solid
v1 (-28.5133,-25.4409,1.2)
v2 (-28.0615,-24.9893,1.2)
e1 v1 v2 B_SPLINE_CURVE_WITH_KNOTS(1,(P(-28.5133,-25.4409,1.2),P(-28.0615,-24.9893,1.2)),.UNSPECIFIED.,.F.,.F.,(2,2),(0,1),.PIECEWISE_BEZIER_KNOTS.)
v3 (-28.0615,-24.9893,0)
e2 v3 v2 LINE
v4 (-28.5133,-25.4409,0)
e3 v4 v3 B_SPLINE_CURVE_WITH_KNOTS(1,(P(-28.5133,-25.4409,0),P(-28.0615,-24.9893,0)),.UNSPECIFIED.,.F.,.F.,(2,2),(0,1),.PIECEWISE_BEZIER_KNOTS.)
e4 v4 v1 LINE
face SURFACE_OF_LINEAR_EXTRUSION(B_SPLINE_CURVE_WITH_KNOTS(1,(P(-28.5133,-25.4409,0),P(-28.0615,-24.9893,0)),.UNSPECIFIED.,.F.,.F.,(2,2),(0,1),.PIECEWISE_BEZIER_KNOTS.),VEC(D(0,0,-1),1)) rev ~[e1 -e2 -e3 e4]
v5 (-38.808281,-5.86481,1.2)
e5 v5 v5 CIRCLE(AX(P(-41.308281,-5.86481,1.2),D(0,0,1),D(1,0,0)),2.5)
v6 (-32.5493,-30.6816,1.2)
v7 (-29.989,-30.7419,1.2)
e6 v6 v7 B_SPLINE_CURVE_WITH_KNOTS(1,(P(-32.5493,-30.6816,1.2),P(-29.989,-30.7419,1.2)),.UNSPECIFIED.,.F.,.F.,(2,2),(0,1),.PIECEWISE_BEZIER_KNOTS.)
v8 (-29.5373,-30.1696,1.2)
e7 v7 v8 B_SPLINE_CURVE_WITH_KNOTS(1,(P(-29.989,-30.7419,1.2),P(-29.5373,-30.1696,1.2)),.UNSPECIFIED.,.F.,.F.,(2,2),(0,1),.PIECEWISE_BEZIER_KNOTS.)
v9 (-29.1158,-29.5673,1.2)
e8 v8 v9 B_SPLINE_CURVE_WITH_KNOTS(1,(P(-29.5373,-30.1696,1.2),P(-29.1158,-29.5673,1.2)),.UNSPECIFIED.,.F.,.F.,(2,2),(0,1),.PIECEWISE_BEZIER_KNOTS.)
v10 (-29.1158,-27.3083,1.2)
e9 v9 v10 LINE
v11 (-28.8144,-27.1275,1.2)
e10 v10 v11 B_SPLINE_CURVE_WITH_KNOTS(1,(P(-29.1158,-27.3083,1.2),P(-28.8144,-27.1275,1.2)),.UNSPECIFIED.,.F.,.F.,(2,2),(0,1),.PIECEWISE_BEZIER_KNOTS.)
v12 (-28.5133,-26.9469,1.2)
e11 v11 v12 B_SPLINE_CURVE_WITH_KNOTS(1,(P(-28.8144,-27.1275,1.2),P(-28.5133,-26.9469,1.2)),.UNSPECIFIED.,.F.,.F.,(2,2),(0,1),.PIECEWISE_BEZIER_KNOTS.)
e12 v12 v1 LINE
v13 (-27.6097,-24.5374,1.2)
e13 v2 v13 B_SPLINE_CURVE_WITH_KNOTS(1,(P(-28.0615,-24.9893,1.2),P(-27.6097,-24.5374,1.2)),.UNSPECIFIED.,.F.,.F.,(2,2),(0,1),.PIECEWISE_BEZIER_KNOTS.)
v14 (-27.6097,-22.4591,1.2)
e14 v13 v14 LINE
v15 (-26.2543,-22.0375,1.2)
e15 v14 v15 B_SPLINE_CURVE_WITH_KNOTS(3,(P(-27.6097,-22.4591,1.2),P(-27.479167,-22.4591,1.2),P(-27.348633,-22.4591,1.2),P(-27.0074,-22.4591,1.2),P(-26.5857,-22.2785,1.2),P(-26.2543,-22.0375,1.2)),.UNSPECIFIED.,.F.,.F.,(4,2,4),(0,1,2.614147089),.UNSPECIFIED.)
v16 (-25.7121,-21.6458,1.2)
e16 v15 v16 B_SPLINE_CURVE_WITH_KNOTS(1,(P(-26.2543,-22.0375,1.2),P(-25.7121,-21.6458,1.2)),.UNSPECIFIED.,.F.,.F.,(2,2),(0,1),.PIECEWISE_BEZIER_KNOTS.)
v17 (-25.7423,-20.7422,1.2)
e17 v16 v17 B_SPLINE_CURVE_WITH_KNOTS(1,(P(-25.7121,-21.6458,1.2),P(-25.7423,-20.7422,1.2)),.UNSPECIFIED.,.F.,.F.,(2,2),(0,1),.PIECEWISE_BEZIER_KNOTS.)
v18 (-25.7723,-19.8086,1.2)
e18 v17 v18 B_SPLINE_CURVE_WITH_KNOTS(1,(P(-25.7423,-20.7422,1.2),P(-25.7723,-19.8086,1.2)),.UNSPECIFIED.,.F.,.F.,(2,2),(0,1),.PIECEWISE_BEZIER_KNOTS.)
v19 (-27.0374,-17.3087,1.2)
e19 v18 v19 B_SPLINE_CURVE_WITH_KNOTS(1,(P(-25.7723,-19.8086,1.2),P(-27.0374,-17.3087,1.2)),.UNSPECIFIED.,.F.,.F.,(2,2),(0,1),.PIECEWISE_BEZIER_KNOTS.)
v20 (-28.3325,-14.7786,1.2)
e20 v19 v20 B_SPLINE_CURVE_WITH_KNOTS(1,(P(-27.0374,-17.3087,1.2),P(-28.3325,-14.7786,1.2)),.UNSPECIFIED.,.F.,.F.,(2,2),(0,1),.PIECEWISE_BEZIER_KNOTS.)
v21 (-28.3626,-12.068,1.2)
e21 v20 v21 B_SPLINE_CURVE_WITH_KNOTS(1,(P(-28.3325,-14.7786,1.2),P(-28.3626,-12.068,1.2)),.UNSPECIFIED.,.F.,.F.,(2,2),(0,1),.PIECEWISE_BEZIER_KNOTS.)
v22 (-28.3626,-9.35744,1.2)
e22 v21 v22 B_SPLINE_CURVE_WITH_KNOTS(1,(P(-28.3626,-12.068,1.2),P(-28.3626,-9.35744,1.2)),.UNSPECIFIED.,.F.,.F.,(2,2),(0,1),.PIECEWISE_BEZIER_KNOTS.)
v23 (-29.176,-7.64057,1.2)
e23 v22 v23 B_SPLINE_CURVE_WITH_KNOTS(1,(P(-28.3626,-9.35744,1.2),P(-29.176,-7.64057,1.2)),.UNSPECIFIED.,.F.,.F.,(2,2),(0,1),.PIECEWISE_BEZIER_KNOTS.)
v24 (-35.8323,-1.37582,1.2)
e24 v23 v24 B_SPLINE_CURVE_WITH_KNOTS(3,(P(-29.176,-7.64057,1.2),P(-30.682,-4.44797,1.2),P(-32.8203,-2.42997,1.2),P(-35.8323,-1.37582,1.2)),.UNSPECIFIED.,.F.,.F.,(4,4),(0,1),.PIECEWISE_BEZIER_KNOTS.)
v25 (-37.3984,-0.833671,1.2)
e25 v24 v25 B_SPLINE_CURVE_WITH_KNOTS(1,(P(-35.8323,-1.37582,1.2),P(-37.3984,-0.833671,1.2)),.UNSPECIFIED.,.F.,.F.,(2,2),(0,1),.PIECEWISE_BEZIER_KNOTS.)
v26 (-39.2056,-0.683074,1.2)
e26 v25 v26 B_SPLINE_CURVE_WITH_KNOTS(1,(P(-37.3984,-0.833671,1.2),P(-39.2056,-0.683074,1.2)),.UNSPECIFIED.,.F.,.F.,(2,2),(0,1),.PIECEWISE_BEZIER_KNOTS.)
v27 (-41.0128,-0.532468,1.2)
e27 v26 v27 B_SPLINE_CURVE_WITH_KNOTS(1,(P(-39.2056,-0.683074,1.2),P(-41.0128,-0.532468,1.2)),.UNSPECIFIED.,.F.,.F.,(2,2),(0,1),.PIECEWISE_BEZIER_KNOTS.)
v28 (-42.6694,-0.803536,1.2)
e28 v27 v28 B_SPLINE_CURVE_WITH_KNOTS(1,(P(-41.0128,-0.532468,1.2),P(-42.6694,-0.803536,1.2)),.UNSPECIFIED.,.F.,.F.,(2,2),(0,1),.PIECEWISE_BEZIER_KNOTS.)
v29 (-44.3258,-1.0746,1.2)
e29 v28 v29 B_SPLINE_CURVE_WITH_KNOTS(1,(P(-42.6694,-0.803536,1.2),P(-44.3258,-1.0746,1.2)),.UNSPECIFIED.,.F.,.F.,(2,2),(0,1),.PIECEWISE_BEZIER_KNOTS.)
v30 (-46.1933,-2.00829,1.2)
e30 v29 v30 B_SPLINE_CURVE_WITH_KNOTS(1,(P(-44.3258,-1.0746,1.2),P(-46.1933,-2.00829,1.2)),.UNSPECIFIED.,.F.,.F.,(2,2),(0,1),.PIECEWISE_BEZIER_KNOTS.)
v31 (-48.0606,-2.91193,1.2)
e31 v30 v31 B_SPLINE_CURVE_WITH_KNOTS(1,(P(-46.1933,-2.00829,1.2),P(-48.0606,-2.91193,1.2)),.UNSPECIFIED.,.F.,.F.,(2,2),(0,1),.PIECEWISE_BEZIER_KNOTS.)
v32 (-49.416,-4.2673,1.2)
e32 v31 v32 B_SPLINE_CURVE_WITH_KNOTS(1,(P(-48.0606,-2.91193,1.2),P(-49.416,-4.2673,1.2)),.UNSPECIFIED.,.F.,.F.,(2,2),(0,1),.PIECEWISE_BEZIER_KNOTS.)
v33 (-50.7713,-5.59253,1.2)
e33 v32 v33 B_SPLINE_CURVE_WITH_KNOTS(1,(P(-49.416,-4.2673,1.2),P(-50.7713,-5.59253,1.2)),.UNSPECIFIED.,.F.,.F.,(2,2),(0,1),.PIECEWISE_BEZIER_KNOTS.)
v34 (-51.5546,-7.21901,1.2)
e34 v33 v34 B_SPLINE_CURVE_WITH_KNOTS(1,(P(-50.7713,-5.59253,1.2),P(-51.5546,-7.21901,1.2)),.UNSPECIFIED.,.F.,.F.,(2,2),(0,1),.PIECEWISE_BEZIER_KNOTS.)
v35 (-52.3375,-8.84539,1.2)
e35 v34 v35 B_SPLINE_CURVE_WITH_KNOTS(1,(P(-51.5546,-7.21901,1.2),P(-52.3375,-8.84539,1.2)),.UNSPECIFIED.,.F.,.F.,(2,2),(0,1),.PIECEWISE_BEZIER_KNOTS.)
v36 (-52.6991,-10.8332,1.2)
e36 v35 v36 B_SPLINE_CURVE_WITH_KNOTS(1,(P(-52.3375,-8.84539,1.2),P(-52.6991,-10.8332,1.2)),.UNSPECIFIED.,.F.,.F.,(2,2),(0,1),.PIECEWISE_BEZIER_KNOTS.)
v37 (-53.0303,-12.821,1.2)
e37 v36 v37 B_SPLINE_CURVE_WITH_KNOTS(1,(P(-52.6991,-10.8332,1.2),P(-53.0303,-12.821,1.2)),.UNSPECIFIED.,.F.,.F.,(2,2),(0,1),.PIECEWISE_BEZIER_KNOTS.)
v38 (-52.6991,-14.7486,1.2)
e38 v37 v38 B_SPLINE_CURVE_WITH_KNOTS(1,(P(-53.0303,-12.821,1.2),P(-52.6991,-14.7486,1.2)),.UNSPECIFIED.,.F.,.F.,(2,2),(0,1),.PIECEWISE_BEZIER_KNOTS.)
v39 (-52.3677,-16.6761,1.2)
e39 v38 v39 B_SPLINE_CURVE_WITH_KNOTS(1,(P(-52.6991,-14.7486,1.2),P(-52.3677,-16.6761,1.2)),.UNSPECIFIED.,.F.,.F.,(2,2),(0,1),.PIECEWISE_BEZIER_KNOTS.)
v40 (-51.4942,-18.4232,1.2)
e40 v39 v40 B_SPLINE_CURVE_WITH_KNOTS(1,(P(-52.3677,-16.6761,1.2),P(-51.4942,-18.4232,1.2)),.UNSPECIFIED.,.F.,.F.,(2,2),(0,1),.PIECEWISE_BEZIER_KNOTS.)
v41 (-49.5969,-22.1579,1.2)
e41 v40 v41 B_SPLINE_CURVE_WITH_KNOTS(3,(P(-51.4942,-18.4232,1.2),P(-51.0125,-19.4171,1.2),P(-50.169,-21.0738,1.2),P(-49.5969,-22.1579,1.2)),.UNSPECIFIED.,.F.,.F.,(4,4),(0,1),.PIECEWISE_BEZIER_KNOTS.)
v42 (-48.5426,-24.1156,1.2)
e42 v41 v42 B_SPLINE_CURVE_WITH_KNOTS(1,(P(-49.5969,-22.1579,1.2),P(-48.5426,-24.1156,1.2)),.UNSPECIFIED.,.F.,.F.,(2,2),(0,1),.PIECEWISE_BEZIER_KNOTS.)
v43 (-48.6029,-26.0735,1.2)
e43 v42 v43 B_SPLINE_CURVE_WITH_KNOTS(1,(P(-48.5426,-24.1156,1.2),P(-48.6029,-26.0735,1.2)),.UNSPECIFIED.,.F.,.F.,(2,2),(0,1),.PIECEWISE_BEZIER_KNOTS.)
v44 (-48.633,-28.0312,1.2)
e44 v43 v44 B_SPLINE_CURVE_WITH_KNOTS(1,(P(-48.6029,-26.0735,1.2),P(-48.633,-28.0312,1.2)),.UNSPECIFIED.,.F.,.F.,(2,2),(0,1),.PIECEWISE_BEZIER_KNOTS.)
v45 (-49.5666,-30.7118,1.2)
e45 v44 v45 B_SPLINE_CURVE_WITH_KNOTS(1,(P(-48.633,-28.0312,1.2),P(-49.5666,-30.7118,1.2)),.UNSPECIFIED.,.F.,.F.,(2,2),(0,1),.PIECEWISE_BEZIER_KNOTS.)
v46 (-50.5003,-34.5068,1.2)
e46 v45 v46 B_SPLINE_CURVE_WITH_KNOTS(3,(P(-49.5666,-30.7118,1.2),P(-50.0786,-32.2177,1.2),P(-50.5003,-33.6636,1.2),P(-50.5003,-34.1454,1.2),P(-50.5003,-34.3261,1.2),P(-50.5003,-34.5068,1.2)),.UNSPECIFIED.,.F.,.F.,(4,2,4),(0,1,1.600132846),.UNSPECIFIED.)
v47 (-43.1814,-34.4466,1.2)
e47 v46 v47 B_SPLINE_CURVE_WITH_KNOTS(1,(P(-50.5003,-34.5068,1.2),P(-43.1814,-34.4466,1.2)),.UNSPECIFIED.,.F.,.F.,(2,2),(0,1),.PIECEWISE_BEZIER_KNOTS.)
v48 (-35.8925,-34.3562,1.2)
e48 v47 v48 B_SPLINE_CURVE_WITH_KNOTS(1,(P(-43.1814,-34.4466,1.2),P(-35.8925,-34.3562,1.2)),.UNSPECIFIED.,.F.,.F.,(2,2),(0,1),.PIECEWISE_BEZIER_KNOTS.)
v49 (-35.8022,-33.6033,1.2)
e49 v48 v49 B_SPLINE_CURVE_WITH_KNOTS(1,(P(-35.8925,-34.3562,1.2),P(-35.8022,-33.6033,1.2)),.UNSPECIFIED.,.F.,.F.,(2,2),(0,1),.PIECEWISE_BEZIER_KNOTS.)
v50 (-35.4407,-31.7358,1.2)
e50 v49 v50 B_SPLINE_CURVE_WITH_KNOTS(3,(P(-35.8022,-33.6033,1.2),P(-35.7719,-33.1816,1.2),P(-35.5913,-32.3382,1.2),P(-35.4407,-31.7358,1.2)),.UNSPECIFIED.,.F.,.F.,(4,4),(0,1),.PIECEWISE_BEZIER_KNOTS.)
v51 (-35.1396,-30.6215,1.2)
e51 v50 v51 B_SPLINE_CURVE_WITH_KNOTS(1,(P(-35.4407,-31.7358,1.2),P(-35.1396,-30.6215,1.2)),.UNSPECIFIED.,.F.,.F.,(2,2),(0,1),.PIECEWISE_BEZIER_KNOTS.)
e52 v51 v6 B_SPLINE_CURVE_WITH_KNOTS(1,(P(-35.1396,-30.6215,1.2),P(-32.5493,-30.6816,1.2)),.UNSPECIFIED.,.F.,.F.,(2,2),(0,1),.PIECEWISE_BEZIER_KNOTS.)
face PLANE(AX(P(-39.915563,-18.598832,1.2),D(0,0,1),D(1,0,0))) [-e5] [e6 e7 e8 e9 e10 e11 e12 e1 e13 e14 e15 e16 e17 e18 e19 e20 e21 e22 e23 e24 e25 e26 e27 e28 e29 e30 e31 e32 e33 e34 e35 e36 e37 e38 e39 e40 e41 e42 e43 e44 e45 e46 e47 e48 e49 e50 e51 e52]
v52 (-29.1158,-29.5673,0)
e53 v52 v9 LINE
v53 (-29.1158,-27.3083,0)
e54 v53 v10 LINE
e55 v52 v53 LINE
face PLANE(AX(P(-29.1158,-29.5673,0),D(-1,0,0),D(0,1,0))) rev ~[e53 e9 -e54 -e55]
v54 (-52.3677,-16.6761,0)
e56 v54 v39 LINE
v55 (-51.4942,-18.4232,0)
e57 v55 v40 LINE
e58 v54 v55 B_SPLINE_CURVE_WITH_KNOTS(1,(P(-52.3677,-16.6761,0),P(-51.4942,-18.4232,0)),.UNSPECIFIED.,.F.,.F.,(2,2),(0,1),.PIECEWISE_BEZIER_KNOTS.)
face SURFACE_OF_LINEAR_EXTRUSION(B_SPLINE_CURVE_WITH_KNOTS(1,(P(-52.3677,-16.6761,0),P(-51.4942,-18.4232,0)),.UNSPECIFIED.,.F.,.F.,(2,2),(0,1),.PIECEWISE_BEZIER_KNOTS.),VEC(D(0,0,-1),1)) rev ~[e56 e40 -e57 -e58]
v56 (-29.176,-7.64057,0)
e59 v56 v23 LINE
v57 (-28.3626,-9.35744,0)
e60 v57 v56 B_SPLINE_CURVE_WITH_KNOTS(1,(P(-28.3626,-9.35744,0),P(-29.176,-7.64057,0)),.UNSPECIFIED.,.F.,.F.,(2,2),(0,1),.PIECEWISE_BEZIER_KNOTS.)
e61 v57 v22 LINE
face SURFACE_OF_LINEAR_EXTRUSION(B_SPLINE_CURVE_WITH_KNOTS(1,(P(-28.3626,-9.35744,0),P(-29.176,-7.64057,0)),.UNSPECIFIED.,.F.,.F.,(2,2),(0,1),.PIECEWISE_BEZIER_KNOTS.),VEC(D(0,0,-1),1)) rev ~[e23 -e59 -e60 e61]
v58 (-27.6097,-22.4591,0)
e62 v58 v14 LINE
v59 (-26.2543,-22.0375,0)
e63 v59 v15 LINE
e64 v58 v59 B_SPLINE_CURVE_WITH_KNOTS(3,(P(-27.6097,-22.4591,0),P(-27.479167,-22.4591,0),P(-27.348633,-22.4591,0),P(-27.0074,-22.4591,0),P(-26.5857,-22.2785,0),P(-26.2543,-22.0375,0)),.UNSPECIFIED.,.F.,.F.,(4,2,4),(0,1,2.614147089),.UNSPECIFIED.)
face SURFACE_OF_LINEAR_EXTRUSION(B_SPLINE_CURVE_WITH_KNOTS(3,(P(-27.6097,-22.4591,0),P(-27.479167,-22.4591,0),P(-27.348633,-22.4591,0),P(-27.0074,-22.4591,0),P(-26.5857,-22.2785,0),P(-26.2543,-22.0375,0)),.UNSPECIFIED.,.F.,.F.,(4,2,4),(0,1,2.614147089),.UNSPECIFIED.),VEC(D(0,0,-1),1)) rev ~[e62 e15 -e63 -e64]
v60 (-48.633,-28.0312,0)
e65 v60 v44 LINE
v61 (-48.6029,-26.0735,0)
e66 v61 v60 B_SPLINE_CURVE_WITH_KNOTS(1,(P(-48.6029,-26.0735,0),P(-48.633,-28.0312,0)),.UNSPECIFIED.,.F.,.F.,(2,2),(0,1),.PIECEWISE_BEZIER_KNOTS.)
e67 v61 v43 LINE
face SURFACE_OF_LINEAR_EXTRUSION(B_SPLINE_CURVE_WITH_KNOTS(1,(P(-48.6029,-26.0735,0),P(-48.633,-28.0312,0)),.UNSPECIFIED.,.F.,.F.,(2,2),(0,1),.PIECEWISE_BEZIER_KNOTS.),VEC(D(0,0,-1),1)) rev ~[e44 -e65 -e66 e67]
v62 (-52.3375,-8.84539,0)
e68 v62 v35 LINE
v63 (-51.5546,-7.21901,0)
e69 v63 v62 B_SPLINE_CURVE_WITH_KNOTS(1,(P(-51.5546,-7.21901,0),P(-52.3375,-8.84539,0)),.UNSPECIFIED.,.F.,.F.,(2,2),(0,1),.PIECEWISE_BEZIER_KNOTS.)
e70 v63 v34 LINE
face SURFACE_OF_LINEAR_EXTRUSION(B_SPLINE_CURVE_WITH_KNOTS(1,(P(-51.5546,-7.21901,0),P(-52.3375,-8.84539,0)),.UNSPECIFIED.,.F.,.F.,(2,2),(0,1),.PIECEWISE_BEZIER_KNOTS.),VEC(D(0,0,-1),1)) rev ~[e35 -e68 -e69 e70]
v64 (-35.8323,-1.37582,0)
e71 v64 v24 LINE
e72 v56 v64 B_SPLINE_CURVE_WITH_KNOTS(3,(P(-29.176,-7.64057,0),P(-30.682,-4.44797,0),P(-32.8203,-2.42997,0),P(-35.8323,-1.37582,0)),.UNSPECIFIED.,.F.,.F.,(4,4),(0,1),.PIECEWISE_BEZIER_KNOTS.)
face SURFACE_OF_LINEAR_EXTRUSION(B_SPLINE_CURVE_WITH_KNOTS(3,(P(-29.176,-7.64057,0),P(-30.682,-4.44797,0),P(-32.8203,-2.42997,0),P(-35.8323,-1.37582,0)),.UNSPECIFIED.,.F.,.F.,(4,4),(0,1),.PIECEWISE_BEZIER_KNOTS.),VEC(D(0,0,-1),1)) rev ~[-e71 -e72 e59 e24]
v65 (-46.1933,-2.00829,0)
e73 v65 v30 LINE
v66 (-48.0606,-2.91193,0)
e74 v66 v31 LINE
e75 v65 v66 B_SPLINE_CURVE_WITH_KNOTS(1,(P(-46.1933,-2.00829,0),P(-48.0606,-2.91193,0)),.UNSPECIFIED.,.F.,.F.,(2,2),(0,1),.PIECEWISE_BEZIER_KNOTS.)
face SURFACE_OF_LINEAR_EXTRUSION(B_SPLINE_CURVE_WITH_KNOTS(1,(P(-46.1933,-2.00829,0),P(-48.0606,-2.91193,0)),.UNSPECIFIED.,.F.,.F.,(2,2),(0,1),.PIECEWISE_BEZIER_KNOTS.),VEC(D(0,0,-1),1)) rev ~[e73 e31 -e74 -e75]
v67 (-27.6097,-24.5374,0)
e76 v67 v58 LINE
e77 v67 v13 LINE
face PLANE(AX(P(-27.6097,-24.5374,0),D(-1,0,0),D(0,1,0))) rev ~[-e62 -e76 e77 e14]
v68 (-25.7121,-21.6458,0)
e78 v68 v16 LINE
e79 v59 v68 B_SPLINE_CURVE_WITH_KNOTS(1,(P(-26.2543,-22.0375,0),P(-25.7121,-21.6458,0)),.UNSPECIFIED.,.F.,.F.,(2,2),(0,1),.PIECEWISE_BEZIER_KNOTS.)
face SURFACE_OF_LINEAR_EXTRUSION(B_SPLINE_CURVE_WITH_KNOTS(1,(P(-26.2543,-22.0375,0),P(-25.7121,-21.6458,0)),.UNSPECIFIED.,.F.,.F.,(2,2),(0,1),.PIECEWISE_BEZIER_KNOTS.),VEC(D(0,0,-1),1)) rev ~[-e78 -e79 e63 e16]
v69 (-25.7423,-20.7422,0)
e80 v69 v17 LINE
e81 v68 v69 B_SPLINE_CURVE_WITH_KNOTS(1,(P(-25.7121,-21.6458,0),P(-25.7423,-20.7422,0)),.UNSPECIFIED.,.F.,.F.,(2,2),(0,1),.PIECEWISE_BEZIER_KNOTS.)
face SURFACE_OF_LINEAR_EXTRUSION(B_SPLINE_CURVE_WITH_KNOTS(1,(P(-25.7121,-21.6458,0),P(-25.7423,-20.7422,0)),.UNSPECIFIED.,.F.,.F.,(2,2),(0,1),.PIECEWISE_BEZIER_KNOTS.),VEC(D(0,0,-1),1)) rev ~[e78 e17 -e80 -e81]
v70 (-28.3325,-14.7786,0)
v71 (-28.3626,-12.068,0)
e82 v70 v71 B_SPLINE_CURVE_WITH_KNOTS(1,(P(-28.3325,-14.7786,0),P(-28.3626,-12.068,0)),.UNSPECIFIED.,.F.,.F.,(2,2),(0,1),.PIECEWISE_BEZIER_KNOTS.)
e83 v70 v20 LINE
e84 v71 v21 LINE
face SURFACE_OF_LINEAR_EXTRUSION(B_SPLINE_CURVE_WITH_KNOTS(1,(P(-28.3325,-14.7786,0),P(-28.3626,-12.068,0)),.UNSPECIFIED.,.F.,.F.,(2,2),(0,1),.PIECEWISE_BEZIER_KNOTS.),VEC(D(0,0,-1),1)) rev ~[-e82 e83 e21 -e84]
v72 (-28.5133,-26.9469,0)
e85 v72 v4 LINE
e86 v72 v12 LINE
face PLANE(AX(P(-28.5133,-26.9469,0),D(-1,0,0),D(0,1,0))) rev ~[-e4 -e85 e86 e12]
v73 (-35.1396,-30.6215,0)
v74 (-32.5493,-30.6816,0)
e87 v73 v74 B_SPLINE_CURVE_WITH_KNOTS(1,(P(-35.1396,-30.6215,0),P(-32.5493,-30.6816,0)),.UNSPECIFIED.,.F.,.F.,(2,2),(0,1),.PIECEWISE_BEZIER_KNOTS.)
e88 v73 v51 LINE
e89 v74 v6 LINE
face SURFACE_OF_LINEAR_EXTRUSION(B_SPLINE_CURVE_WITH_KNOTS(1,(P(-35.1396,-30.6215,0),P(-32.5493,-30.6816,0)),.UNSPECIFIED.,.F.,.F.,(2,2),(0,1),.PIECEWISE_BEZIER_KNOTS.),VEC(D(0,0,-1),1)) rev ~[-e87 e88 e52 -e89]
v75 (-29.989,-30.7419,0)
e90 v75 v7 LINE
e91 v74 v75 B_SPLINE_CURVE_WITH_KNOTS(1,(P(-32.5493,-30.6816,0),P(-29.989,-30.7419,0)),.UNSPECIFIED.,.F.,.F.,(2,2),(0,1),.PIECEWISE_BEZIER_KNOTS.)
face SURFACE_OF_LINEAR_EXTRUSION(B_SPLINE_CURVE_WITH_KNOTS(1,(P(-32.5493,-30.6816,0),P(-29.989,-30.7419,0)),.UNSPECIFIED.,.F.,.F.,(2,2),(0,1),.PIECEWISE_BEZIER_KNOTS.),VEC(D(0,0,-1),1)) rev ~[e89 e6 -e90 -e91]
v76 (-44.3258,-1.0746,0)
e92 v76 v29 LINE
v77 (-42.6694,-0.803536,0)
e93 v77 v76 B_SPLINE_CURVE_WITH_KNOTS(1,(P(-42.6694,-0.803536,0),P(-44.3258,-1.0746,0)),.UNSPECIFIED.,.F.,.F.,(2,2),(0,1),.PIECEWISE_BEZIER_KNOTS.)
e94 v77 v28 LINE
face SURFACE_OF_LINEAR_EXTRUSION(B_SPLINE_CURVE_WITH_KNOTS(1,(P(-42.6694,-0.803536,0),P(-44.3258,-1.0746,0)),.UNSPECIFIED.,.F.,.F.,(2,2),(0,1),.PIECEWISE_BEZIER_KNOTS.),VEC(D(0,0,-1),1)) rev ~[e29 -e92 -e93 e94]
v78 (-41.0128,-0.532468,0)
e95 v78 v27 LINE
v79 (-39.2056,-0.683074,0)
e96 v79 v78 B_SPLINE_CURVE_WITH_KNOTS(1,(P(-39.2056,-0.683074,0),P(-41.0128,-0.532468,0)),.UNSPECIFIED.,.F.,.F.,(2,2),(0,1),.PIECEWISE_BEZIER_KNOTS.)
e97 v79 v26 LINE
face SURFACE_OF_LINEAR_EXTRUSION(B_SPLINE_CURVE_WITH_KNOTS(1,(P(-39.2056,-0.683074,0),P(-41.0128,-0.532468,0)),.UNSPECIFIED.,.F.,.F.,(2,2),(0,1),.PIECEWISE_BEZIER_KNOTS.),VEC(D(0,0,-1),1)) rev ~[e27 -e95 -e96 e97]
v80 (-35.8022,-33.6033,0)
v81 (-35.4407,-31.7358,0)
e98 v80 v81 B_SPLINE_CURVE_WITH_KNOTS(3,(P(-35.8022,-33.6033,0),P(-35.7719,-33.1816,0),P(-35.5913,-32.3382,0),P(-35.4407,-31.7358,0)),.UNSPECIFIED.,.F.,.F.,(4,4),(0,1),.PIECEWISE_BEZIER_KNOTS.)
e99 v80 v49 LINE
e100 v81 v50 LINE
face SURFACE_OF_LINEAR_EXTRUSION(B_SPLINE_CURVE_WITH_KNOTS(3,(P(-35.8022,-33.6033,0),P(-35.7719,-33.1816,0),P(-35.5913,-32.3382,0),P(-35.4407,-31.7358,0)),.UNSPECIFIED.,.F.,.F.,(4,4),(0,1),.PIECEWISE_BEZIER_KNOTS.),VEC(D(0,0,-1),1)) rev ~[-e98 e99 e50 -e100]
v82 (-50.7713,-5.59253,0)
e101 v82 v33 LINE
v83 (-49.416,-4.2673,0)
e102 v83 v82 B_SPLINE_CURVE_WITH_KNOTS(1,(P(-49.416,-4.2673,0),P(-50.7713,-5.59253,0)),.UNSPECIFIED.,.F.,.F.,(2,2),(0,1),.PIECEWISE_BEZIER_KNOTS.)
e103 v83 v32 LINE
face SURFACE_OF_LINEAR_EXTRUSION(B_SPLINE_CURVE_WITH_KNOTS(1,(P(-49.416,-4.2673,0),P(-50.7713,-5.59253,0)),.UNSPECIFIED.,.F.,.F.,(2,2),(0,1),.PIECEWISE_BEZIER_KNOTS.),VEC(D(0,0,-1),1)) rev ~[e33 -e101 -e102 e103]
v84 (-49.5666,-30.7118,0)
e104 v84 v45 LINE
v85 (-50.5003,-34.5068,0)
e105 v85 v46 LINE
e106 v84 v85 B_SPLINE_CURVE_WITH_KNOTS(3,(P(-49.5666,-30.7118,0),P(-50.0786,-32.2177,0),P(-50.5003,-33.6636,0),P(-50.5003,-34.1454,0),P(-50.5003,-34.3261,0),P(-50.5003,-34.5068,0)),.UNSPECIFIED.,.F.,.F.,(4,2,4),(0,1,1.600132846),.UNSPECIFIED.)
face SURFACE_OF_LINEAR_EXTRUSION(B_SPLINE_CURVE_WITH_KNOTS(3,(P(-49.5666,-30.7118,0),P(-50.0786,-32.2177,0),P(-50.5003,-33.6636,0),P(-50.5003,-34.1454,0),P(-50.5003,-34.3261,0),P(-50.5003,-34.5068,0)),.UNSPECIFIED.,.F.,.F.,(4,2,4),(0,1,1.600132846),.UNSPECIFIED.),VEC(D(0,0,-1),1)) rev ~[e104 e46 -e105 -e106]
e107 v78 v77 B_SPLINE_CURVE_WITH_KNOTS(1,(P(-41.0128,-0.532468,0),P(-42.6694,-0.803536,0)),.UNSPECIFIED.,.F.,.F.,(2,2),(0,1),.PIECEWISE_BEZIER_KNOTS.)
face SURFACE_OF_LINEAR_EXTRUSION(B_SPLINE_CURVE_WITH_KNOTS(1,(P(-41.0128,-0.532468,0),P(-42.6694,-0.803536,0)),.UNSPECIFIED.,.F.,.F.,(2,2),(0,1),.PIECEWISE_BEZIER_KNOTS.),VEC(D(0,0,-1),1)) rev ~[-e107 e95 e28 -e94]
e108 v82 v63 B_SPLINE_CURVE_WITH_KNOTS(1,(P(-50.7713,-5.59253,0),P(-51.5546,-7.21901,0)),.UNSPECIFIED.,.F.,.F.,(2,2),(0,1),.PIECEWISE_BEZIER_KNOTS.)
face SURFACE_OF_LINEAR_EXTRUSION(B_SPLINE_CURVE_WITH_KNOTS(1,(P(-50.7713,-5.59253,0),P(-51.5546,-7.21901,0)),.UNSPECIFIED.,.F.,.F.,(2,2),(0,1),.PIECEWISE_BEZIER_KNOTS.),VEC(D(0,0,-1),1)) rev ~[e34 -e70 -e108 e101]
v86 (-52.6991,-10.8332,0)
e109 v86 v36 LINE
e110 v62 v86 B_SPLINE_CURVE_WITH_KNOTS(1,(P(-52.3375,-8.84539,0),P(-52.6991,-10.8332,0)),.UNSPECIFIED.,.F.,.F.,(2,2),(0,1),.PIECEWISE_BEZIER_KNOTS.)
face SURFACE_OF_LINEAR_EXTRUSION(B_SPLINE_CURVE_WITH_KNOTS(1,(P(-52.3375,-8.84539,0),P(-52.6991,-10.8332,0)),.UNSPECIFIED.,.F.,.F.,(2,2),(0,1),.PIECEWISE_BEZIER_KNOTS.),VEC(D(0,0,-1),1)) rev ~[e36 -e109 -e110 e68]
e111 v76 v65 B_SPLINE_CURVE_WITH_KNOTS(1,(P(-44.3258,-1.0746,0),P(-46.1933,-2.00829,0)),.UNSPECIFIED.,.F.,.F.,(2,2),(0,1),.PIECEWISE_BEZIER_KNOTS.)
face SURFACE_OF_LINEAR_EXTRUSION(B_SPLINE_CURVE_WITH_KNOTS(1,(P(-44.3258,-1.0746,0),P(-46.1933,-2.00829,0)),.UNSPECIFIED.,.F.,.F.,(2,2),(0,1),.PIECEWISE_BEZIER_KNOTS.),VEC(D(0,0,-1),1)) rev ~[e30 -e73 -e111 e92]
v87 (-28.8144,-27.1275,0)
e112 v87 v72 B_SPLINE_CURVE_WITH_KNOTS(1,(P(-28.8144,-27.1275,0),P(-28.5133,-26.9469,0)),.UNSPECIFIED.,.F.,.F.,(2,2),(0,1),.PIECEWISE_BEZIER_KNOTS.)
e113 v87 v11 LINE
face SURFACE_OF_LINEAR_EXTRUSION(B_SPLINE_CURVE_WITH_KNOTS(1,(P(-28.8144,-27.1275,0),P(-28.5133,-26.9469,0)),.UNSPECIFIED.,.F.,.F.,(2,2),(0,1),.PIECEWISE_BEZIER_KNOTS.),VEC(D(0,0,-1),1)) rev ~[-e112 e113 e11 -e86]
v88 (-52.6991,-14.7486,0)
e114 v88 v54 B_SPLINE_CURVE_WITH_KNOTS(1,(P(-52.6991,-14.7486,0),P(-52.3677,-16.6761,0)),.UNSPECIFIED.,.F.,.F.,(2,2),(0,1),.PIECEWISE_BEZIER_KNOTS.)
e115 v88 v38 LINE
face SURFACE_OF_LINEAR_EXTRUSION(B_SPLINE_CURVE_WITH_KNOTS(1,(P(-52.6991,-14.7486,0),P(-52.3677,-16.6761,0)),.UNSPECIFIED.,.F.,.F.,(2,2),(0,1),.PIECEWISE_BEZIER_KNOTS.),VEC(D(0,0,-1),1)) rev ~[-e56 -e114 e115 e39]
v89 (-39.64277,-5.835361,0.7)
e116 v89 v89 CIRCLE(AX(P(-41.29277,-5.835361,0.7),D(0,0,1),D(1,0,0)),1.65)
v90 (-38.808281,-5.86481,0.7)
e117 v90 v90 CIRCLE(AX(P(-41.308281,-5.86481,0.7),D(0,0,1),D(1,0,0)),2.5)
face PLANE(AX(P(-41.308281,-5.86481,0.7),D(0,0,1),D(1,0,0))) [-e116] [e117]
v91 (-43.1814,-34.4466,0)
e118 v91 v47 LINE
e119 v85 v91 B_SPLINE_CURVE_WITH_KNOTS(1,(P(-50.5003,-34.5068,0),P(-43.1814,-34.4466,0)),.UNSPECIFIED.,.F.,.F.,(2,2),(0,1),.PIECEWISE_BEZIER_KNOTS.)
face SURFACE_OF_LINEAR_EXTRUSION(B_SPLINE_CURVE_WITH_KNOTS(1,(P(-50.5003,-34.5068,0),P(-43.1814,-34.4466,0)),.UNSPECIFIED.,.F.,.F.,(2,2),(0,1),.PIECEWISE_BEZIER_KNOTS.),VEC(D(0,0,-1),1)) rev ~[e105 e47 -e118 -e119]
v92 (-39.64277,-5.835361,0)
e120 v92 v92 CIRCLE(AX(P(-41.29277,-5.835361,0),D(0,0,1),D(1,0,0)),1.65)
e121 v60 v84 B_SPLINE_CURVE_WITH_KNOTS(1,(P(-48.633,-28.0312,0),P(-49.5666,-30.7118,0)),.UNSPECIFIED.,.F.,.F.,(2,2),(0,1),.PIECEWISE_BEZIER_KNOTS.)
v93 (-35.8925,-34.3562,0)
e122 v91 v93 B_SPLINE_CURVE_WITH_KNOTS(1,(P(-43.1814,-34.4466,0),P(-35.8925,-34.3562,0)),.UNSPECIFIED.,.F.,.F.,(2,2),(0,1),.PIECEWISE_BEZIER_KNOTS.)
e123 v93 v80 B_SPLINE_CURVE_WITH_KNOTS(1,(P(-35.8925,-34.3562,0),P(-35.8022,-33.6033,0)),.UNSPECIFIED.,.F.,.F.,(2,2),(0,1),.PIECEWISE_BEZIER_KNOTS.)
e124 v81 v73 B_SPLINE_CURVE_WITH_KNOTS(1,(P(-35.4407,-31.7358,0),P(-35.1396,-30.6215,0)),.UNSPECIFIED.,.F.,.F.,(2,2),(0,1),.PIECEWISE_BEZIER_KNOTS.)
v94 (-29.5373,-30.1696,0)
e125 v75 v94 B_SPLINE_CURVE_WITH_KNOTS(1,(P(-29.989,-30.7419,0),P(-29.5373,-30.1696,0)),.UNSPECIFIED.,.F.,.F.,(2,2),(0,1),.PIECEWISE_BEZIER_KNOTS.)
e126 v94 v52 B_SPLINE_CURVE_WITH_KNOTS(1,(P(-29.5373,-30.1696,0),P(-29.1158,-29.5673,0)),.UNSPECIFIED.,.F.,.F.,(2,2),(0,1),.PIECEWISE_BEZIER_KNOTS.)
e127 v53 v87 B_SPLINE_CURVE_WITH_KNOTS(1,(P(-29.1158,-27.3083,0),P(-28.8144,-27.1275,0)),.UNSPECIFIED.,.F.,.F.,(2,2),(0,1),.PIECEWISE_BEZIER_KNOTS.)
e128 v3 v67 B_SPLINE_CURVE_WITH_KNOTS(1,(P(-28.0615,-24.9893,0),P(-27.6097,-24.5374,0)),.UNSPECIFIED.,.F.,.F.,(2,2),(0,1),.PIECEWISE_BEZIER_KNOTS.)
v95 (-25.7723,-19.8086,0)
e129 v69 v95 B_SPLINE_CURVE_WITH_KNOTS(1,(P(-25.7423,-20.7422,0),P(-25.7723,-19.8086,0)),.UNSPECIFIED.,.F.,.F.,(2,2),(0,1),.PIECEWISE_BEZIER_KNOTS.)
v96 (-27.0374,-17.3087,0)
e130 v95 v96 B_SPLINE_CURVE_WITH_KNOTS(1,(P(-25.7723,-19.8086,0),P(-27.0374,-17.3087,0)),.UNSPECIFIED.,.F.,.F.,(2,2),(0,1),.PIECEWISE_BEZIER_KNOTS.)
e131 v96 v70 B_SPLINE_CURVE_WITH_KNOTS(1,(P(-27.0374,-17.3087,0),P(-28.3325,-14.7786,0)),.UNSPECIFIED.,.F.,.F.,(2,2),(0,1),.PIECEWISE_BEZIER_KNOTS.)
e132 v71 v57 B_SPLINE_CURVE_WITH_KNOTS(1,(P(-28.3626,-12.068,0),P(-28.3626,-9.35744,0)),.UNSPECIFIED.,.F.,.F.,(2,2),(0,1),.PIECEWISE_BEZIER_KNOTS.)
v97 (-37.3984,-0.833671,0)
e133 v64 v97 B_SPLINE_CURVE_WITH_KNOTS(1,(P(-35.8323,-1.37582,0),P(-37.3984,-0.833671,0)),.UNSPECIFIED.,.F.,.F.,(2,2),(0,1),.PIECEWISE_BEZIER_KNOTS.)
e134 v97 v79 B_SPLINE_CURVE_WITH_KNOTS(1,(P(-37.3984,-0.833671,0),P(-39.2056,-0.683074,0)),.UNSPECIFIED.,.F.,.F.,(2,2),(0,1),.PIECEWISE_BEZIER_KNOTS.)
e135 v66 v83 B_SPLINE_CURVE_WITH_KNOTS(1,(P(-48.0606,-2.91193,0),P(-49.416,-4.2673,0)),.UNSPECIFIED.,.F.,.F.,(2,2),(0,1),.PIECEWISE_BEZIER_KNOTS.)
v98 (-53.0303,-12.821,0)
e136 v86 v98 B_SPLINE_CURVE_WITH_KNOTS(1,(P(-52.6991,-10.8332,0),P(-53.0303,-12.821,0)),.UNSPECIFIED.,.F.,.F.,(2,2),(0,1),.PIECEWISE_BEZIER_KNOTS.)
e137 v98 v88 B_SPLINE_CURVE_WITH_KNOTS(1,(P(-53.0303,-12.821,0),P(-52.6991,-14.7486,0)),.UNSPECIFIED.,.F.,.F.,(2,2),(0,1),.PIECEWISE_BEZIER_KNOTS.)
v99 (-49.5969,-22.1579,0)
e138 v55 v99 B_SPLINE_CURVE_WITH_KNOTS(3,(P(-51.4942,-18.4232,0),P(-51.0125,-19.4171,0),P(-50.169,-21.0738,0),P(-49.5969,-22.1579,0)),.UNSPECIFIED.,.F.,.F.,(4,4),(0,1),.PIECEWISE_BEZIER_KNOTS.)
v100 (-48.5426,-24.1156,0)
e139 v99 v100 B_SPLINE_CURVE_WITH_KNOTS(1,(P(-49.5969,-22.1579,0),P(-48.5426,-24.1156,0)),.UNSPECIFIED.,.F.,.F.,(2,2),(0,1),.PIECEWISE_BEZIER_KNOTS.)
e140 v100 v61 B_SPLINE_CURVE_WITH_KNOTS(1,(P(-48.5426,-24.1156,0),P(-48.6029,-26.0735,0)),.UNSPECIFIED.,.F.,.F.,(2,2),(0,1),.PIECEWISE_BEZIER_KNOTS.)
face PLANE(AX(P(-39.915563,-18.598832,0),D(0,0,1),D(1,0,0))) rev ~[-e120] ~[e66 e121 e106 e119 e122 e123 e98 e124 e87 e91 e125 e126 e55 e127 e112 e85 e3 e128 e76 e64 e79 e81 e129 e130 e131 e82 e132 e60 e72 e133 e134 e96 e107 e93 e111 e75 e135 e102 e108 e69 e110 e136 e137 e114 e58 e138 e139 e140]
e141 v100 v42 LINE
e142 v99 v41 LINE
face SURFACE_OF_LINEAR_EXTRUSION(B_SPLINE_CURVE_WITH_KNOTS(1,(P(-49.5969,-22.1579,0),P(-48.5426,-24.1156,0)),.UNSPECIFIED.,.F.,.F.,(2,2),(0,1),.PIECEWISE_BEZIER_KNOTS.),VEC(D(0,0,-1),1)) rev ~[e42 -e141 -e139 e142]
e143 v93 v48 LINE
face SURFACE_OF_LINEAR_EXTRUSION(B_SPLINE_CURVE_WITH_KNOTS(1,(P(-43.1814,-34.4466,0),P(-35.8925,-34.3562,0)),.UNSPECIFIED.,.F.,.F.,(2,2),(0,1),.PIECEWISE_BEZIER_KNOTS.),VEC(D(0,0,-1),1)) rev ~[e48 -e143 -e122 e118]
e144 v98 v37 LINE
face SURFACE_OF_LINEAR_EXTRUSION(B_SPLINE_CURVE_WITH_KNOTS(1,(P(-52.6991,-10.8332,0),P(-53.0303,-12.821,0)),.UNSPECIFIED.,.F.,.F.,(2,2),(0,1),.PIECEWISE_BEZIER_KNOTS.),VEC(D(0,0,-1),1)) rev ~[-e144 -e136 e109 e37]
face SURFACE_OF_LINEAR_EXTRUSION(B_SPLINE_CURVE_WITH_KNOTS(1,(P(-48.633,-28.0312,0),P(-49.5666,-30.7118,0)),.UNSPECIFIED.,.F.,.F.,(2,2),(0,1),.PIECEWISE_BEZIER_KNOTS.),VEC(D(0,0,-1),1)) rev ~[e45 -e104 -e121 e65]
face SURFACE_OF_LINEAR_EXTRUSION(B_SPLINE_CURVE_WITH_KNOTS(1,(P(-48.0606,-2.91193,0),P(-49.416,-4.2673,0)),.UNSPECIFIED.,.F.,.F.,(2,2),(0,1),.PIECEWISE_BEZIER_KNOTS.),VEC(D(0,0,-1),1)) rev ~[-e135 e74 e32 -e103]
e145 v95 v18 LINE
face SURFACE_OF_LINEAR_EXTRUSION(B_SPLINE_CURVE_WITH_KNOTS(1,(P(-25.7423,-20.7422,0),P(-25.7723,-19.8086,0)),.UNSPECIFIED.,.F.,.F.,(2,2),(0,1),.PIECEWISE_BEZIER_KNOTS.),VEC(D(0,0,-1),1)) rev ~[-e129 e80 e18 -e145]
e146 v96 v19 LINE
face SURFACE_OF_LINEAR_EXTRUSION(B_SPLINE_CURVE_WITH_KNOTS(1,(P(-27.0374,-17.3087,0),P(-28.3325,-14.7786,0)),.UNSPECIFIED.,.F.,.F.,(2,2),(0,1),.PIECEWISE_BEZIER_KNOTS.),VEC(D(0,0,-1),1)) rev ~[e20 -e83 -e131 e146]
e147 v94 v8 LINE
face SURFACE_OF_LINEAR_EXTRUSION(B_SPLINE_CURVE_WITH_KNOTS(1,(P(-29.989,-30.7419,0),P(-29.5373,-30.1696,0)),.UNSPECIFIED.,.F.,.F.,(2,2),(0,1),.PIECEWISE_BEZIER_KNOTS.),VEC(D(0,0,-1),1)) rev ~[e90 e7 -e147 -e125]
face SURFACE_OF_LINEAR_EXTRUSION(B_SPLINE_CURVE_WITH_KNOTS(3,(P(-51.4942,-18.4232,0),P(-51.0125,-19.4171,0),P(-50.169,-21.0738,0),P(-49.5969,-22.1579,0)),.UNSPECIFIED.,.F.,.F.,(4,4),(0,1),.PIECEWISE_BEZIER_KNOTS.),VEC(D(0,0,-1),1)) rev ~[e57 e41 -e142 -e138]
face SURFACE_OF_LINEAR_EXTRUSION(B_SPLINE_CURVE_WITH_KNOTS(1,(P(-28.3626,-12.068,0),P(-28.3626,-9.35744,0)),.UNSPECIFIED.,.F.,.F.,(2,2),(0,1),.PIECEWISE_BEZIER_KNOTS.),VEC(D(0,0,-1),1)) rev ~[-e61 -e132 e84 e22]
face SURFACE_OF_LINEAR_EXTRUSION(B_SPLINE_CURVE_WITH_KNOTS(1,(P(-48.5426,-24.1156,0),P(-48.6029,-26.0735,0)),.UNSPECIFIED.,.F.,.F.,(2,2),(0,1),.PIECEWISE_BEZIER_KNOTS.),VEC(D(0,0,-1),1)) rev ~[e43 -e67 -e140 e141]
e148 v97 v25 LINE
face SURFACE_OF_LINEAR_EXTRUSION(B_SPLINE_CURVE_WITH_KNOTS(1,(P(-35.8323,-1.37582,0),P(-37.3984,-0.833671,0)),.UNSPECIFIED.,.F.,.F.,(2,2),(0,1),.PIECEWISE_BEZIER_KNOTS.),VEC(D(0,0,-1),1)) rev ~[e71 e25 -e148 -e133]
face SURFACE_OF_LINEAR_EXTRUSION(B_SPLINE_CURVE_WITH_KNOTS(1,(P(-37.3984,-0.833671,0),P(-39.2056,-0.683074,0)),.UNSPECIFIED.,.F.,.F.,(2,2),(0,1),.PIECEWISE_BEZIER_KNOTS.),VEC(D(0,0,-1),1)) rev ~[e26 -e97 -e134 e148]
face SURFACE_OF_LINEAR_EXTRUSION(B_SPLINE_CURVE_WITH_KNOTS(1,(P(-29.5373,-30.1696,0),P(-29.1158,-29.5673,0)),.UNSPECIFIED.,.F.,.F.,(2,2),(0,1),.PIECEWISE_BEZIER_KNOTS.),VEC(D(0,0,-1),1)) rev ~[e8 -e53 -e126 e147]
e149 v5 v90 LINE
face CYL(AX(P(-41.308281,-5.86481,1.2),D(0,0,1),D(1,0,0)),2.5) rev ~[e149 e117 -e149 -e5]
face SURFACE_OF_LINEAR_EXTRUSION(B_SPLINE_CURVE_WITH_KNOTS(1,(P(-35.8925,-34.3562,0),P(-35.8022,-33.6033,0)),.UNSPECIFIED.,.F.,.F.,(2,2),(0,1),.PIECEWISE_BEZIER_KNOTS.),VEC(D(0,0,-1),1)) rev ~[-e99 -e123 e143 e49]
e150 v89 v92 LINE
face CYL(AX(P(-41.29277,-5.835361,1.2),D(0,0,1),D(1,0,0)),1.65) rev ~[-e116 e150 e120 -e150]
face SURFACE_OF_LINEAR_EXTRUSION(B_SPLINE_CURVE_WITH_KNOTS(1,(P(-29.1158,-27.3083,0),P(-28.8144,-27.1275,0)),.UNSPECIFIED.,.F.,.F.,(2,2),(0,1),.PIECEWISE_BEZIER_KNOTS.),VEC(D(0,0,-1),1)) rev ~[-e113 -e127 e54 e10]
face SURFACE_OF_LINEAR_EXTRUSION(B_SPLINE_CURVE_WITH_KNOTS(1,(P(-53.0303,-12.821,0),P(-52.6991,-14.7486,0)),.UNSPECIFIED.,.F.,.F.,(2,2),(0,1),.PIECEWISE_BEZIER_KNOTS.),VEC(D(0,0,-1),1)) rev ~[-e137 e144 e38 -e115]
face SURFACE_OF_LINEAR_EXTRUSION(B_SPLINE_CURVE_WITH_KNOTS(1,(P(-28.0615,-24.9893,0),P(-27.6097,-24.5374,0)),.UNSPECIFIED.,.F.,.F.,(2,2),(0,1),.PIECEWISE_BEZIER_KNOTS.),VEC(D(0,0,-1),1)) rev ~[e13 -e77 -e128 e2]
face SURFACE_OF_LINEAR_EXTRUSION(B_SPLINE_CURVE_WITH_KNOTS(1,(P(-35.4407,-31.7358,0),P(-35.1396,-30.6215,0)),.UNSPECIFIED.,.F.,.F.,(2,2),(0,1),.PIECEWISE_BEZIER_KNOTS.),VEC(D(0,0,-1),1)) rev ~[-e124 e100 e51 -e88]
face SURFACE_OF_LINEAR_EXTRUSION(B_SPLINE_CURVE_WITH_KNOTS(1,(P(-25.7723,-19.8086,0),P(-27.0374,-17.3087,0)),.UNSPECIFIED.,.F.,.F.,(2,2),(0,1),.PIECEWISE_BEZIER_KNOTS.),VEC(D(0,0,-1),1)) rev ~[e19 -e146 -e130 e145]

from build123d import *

# Parameters (mm, degrees)
PAD007_DEPTH    = 1.2
SKETCH024_R     = 1.65
POCKET008_DEPTH = 2
SKETCH027_R     = 2.5
POCKET009_DEPTH = 0.5


with BuildPart() as part:
    # Sketch023 → Pad007 (new body)
    with BuildSketch(Plane.XY):
        with BuildLine():
            add(Edge.make_bspline(
                [(-42.6694, -0.803536), (-44.3258, -1.0746)],
                knots=[0, 0, 1, 1], degree=1))
            add(Edge.make_bspline(
                [(-44.3258, -1.0746), (-46.1933, -2.00829)],
                knots=[0, 0, 1, 1], degree=1))
            add(Edge.make_bspline(
                [(-46.1933, -2.00829), (-48.0606, -2.91193)],
                knots=[0, 0, 1, 1], degree=1))
            add(Edge.make_bspline(
                [(-48.0606, -2.91193), (-49.416, -4.2673)],
                knots=[0, 0, 1, 1], degree=1))
            add(Edge.make_bspline(
                [(-49.416, -4.2673), (-50.7713, -5.59253)],
                knots=[0, 0, 1, 1], degree=1))
            add(Edge.make_bspline(
                [(-50.7713, -5.59253), (-51.5546, -7.21901)],
                knots=[0, 0, 1, 1], degree=1))
            add(Edge.make_bspline(
                [(-51.5546, -7.21901), (-52.3375, -8.84539)],
                knots=[0, 0, 1, 1], degree=1))
            add(Edge.make_bspline(
                [(-52.3375, -8.84539), (-52.6991, -10.8332)],
                knots=[0, 0, 1, 1], degree=1))
            add(Edge.make_bspline(
                [(-52.6991, -10.8332), (-53.0303, -12.821)],
                knots=[0, 0, 1, 1], degree=1))
            add(Edge.make_bspline(
                [(-53.0303, -12.821), (-52.6991, -14.7486)],
                knots=[0, 0, 1, 1], degree=1))
            add(Edge.make_bspline(
                [(-52.6991, -14.7486), (-52.3677, -16.6761)],
                knots=[0, 0, 1, 1], degree=1))
            add(Edge.make_bspline(
                [(-52.3677, -16.6761), (-51.4942, -18.4232)],
                knots=[0, 0, 1, 1], degree=1))
            add(Edge.make_bspline(
                [(-51.4942, -18.4232), (-51.0125, -19.4171), (-50.169, -21.0738), (-49.5969, -22.1579)],
                knots=[0, 0, 0, 0, 1, 1, 1, 1], degree=3))
            add(Edge.make_bspline(
                [(-49.5969, -22.1579), (-48.5426, -24.1156)],
                knots=[0, 0, 1, 1], degree=1))
            add(Edge.make_bspline(
                [(-48.5426, -24.1156), (-48.6029, -26.0735)],
                knots=[0, 0, 1, 1], degree=1))
            add(Edge.make_bspline(
                [(-48.6029, -26.0735), (-48.633, -28.0312)],
                knots=[0, 0, 1, 1], degree=1))
            add(Edge.make_bspline(
                [(-48.633, -28.0312), (-49.5666, -30.7118)],
                knots=[0, 0, 1, 1], degree=1))
            add(Edge.make_bspline(
                [(-49.5666, -30.7118), (-50.0786, -32.2177), (-50.5003, -33.6636), (-50.5003, -33.9647)],
                knots=[0, 0, 0, 0, 1, 1, 1, 1], degree=3))
            add(Edge.make_bspline(
                [(-50.5003, -33.9647), (-50.5003, -34.5068)],
                knots=[0, 0, 1, 1], degree=1))
            add(Edge.make_bspline(
                [(-50.5003, -34.5068), (-43.1814, -34.4466)],
                knots=[0, 0, 1, 1], degree=1))
            add(Edge.make_bspline(
                [(-43.1814, -34.4466), (-35.8925, -34.3562)],
                knots=[0, 0, 1, 1], degree=1))
            add(Edge.make_bspline(
                [(-35.8925, -34.3562), (-35.8022, -33.6033)],
                knots=[0, 0, 1, 1], degree=1))
            add(Edge.make_bspline(
                [(-35.8022, -33.6033), (-35.7719, -33.1816), (-35.5913, -32.3382), (-35.4407, -31.7358)],
                knots=[0, 0, 0, 0, 1, 1, 1, 1], degree=3))
            add(Edge.make_bspline(
                [(-35.4407, -31.7358), (-35.1396, -30.6215)],
                knots=[0, 0, 1, 1], degree=1))
            add(Edge.make_bspline(
                [(-35.1396, -30.6215), (-32.5493, -30.6816)],
                knots=[0, 0, 1, 1], degree=1))
            add(Edge.make_bspline(
                [(-32.5493, -30.6816), (-29.989, -30.7419)],
                knots=[0, 0, 1, 1], degree=1))
            add(Edge.make_bspline(
                [(-29.989, -30.7419), (-29.5373, -30.1696)],
                knots=[0, 0, 1, 1], degree=1))
            add(Edge.make_bspline(
                [(-29.5373, -30.1696), (-29.1158, -29.5673)],
                knots=[0, 0, 1, 1], degree=1))
            add(Edge.make_bspline(
                [(-29.1158, -29.5673), (-29.1158, -28.4529)],
                knots=[0, 0, 1, 1], degree=1))
            add(Edge.make_bspline(
                [(-29.1158, -28.4529), (-29.1158, -27.3083)],
                knots=[0, 0, 1, 1], degree=1))
            add(Edge.make_bspline(
                [(-29.1158, -27.3083), (-28.8144, -27.1275)],
                knots=[0, 0, 1, 1], degree=1))
            add(Edge.make_bspline(
                [(-28.8144, -27.1275), (-28.5133, -26.9469)],
                knots=[0, 0, 1, 1], degree=1))
            add(Edge.make_bspline(
                [(-28.5133, -26.9469), (-28.5133, -26.194)],
                knots=[0, 0, 1, 1], degree=1))
            add(Edge.make_bspline(
                [(-28.5133, -26.194), (-28.5133, -25.4409)],
                knots=[0, 0, 1, 1], degree=1))
            add(Edge.make_bspline(
                [(-28.5133, -25.4409), (-28.0615, -24.9893)],
                knots=[0, 0, 1, 1], degree=1))
            add(Edge.make_bspline(
                [(-28.0615, -24.9893), (-27.6097, -24.5374)],
                knots=[0, 0, 1, 1], degree=1))
            add(Edge.make_bspline(
                [(-27.6097, -24.5374), (-27.6097, -23.4833)],
                knots=[0, 0, 1, 1], degree=1))
            add(Edge.make_bspline(
                [(-27.6097, -23.4833), (-27.6097, -22.4591)],
                knots=[0, 0, 1, 1], degree=1))
            add(Edge.make_bspline(
                [(-27.6097, -22.4591), (-27.2181, -22.4591)],
                knots=[0, 0, 1, 1], degree=1))
            add(Edge.make_bspline(
                [(-27.2181, -22.4591), (-27.0074, -22.4591), (-26.5857, -22.2785), (-26.2543, -22.0375)],
                knots=[0, 0, 0, 0, 1, 1, 1, 1], degree=3))
            add(Edge.make_bspline(
                [(-26.2543, -22.0375), (-25.7121, -21.6458)],
                knots=[0, 0, 1, 1], degree=1))
            add(Edge.make_bspline(
                [(-25.7121, -21.6458), (-25.7423, -20.7422)],
                knots=[0, 0, 1, 1], degree=1))
            add(Edge.make_bspline(
                [(-25.7423, -20.7422), (-25.7723, -19.8086)],
                knots=[0, 0, 1, 1], degree=1))
            add(Edge.make_bspline(
                [(-25.7723, -19.8086), (-27.0374, -17.3087)],
                knots=[0, 0, 1, 1], degree=1))
            add(Edge.make_bspline(
                [(-27.0374, -17.3087), (-28.3325, -14.7786)],
                knots=[0, 0, 1, 1], degree=1))
            add(Edge.make_bspline(
                [(-28.3325, -14.7786), (-28.3626, -12.068)],
                knots=[0, 0, 1, 1], degree=1))
            add(Edge.make_bspline(
                [(-28.3626, -12.068), (-28.3626, -9.35744)],
                knots=[0, 0, 1, 1], degree=1))
            add(Edge.make_bspline(
                [(-28.3626, -9.35744), (-29.176, -7.64057)],
                knots=[0, 0, 1, 1], degree=1))
            add(Edge.make_bspline(
                [(-29.176, -7.64057), (-30.682, -4.44797), (-32.8203, -2.42997), (-35.8323, -1.37582)],
                knots=[0, 0, 0, 0, 1, 1, 1, 1], degree=3))
            add(Edge.make_bspline(
                [(-35.8323, -1.37582), (-37.3984, -0.833671)],
                knots=[0, 0, 1, 1], degree=1))
            add(Edge.make_bspline(
                [(-37.3984, -0.833671), (-39.2056, -0.683074)],
                knots=[0, 0, 1, 1], degree=1))
            add(Edge.make_bspline(
                [(-39.2056, -0.683074), (-41.0128, -0.532468)],
                knots=[0, 0, 1, 1], degree=1))
            add(Edge.make_bspline(
                [(-41.0128, -0.532468), (-42.6694, -0.803536)],
                knots=[0, 0, 1, 1], degree=1))
        make_face()
    extrude(amount=PAD007_DEPTH)

    # Sketch024 (on Face55 of Pad007) → Pocket008 (cut)
    with BuildSketch(Plane.XY.offset(1.2)):
        with Locations((-41.29277, -5.835361)):
            Circle(SKETCH024_R)
    extrude(amount=-POCKET008_DEPTH, mode=Mode.SUBTRACT)

    # Sketch027 (on Face5 of Pocket008) → Pocket009 (cut)
    with BuildSketch(Plane.XY.offset(1.2)):
        with Locations((-41.308281, -5.86481)):
            Circle(SKETCH027_R)
    extrude(amount=-POCKET009_DEPTH, mode=Mode.SUBTRACT)


solid = part.part
